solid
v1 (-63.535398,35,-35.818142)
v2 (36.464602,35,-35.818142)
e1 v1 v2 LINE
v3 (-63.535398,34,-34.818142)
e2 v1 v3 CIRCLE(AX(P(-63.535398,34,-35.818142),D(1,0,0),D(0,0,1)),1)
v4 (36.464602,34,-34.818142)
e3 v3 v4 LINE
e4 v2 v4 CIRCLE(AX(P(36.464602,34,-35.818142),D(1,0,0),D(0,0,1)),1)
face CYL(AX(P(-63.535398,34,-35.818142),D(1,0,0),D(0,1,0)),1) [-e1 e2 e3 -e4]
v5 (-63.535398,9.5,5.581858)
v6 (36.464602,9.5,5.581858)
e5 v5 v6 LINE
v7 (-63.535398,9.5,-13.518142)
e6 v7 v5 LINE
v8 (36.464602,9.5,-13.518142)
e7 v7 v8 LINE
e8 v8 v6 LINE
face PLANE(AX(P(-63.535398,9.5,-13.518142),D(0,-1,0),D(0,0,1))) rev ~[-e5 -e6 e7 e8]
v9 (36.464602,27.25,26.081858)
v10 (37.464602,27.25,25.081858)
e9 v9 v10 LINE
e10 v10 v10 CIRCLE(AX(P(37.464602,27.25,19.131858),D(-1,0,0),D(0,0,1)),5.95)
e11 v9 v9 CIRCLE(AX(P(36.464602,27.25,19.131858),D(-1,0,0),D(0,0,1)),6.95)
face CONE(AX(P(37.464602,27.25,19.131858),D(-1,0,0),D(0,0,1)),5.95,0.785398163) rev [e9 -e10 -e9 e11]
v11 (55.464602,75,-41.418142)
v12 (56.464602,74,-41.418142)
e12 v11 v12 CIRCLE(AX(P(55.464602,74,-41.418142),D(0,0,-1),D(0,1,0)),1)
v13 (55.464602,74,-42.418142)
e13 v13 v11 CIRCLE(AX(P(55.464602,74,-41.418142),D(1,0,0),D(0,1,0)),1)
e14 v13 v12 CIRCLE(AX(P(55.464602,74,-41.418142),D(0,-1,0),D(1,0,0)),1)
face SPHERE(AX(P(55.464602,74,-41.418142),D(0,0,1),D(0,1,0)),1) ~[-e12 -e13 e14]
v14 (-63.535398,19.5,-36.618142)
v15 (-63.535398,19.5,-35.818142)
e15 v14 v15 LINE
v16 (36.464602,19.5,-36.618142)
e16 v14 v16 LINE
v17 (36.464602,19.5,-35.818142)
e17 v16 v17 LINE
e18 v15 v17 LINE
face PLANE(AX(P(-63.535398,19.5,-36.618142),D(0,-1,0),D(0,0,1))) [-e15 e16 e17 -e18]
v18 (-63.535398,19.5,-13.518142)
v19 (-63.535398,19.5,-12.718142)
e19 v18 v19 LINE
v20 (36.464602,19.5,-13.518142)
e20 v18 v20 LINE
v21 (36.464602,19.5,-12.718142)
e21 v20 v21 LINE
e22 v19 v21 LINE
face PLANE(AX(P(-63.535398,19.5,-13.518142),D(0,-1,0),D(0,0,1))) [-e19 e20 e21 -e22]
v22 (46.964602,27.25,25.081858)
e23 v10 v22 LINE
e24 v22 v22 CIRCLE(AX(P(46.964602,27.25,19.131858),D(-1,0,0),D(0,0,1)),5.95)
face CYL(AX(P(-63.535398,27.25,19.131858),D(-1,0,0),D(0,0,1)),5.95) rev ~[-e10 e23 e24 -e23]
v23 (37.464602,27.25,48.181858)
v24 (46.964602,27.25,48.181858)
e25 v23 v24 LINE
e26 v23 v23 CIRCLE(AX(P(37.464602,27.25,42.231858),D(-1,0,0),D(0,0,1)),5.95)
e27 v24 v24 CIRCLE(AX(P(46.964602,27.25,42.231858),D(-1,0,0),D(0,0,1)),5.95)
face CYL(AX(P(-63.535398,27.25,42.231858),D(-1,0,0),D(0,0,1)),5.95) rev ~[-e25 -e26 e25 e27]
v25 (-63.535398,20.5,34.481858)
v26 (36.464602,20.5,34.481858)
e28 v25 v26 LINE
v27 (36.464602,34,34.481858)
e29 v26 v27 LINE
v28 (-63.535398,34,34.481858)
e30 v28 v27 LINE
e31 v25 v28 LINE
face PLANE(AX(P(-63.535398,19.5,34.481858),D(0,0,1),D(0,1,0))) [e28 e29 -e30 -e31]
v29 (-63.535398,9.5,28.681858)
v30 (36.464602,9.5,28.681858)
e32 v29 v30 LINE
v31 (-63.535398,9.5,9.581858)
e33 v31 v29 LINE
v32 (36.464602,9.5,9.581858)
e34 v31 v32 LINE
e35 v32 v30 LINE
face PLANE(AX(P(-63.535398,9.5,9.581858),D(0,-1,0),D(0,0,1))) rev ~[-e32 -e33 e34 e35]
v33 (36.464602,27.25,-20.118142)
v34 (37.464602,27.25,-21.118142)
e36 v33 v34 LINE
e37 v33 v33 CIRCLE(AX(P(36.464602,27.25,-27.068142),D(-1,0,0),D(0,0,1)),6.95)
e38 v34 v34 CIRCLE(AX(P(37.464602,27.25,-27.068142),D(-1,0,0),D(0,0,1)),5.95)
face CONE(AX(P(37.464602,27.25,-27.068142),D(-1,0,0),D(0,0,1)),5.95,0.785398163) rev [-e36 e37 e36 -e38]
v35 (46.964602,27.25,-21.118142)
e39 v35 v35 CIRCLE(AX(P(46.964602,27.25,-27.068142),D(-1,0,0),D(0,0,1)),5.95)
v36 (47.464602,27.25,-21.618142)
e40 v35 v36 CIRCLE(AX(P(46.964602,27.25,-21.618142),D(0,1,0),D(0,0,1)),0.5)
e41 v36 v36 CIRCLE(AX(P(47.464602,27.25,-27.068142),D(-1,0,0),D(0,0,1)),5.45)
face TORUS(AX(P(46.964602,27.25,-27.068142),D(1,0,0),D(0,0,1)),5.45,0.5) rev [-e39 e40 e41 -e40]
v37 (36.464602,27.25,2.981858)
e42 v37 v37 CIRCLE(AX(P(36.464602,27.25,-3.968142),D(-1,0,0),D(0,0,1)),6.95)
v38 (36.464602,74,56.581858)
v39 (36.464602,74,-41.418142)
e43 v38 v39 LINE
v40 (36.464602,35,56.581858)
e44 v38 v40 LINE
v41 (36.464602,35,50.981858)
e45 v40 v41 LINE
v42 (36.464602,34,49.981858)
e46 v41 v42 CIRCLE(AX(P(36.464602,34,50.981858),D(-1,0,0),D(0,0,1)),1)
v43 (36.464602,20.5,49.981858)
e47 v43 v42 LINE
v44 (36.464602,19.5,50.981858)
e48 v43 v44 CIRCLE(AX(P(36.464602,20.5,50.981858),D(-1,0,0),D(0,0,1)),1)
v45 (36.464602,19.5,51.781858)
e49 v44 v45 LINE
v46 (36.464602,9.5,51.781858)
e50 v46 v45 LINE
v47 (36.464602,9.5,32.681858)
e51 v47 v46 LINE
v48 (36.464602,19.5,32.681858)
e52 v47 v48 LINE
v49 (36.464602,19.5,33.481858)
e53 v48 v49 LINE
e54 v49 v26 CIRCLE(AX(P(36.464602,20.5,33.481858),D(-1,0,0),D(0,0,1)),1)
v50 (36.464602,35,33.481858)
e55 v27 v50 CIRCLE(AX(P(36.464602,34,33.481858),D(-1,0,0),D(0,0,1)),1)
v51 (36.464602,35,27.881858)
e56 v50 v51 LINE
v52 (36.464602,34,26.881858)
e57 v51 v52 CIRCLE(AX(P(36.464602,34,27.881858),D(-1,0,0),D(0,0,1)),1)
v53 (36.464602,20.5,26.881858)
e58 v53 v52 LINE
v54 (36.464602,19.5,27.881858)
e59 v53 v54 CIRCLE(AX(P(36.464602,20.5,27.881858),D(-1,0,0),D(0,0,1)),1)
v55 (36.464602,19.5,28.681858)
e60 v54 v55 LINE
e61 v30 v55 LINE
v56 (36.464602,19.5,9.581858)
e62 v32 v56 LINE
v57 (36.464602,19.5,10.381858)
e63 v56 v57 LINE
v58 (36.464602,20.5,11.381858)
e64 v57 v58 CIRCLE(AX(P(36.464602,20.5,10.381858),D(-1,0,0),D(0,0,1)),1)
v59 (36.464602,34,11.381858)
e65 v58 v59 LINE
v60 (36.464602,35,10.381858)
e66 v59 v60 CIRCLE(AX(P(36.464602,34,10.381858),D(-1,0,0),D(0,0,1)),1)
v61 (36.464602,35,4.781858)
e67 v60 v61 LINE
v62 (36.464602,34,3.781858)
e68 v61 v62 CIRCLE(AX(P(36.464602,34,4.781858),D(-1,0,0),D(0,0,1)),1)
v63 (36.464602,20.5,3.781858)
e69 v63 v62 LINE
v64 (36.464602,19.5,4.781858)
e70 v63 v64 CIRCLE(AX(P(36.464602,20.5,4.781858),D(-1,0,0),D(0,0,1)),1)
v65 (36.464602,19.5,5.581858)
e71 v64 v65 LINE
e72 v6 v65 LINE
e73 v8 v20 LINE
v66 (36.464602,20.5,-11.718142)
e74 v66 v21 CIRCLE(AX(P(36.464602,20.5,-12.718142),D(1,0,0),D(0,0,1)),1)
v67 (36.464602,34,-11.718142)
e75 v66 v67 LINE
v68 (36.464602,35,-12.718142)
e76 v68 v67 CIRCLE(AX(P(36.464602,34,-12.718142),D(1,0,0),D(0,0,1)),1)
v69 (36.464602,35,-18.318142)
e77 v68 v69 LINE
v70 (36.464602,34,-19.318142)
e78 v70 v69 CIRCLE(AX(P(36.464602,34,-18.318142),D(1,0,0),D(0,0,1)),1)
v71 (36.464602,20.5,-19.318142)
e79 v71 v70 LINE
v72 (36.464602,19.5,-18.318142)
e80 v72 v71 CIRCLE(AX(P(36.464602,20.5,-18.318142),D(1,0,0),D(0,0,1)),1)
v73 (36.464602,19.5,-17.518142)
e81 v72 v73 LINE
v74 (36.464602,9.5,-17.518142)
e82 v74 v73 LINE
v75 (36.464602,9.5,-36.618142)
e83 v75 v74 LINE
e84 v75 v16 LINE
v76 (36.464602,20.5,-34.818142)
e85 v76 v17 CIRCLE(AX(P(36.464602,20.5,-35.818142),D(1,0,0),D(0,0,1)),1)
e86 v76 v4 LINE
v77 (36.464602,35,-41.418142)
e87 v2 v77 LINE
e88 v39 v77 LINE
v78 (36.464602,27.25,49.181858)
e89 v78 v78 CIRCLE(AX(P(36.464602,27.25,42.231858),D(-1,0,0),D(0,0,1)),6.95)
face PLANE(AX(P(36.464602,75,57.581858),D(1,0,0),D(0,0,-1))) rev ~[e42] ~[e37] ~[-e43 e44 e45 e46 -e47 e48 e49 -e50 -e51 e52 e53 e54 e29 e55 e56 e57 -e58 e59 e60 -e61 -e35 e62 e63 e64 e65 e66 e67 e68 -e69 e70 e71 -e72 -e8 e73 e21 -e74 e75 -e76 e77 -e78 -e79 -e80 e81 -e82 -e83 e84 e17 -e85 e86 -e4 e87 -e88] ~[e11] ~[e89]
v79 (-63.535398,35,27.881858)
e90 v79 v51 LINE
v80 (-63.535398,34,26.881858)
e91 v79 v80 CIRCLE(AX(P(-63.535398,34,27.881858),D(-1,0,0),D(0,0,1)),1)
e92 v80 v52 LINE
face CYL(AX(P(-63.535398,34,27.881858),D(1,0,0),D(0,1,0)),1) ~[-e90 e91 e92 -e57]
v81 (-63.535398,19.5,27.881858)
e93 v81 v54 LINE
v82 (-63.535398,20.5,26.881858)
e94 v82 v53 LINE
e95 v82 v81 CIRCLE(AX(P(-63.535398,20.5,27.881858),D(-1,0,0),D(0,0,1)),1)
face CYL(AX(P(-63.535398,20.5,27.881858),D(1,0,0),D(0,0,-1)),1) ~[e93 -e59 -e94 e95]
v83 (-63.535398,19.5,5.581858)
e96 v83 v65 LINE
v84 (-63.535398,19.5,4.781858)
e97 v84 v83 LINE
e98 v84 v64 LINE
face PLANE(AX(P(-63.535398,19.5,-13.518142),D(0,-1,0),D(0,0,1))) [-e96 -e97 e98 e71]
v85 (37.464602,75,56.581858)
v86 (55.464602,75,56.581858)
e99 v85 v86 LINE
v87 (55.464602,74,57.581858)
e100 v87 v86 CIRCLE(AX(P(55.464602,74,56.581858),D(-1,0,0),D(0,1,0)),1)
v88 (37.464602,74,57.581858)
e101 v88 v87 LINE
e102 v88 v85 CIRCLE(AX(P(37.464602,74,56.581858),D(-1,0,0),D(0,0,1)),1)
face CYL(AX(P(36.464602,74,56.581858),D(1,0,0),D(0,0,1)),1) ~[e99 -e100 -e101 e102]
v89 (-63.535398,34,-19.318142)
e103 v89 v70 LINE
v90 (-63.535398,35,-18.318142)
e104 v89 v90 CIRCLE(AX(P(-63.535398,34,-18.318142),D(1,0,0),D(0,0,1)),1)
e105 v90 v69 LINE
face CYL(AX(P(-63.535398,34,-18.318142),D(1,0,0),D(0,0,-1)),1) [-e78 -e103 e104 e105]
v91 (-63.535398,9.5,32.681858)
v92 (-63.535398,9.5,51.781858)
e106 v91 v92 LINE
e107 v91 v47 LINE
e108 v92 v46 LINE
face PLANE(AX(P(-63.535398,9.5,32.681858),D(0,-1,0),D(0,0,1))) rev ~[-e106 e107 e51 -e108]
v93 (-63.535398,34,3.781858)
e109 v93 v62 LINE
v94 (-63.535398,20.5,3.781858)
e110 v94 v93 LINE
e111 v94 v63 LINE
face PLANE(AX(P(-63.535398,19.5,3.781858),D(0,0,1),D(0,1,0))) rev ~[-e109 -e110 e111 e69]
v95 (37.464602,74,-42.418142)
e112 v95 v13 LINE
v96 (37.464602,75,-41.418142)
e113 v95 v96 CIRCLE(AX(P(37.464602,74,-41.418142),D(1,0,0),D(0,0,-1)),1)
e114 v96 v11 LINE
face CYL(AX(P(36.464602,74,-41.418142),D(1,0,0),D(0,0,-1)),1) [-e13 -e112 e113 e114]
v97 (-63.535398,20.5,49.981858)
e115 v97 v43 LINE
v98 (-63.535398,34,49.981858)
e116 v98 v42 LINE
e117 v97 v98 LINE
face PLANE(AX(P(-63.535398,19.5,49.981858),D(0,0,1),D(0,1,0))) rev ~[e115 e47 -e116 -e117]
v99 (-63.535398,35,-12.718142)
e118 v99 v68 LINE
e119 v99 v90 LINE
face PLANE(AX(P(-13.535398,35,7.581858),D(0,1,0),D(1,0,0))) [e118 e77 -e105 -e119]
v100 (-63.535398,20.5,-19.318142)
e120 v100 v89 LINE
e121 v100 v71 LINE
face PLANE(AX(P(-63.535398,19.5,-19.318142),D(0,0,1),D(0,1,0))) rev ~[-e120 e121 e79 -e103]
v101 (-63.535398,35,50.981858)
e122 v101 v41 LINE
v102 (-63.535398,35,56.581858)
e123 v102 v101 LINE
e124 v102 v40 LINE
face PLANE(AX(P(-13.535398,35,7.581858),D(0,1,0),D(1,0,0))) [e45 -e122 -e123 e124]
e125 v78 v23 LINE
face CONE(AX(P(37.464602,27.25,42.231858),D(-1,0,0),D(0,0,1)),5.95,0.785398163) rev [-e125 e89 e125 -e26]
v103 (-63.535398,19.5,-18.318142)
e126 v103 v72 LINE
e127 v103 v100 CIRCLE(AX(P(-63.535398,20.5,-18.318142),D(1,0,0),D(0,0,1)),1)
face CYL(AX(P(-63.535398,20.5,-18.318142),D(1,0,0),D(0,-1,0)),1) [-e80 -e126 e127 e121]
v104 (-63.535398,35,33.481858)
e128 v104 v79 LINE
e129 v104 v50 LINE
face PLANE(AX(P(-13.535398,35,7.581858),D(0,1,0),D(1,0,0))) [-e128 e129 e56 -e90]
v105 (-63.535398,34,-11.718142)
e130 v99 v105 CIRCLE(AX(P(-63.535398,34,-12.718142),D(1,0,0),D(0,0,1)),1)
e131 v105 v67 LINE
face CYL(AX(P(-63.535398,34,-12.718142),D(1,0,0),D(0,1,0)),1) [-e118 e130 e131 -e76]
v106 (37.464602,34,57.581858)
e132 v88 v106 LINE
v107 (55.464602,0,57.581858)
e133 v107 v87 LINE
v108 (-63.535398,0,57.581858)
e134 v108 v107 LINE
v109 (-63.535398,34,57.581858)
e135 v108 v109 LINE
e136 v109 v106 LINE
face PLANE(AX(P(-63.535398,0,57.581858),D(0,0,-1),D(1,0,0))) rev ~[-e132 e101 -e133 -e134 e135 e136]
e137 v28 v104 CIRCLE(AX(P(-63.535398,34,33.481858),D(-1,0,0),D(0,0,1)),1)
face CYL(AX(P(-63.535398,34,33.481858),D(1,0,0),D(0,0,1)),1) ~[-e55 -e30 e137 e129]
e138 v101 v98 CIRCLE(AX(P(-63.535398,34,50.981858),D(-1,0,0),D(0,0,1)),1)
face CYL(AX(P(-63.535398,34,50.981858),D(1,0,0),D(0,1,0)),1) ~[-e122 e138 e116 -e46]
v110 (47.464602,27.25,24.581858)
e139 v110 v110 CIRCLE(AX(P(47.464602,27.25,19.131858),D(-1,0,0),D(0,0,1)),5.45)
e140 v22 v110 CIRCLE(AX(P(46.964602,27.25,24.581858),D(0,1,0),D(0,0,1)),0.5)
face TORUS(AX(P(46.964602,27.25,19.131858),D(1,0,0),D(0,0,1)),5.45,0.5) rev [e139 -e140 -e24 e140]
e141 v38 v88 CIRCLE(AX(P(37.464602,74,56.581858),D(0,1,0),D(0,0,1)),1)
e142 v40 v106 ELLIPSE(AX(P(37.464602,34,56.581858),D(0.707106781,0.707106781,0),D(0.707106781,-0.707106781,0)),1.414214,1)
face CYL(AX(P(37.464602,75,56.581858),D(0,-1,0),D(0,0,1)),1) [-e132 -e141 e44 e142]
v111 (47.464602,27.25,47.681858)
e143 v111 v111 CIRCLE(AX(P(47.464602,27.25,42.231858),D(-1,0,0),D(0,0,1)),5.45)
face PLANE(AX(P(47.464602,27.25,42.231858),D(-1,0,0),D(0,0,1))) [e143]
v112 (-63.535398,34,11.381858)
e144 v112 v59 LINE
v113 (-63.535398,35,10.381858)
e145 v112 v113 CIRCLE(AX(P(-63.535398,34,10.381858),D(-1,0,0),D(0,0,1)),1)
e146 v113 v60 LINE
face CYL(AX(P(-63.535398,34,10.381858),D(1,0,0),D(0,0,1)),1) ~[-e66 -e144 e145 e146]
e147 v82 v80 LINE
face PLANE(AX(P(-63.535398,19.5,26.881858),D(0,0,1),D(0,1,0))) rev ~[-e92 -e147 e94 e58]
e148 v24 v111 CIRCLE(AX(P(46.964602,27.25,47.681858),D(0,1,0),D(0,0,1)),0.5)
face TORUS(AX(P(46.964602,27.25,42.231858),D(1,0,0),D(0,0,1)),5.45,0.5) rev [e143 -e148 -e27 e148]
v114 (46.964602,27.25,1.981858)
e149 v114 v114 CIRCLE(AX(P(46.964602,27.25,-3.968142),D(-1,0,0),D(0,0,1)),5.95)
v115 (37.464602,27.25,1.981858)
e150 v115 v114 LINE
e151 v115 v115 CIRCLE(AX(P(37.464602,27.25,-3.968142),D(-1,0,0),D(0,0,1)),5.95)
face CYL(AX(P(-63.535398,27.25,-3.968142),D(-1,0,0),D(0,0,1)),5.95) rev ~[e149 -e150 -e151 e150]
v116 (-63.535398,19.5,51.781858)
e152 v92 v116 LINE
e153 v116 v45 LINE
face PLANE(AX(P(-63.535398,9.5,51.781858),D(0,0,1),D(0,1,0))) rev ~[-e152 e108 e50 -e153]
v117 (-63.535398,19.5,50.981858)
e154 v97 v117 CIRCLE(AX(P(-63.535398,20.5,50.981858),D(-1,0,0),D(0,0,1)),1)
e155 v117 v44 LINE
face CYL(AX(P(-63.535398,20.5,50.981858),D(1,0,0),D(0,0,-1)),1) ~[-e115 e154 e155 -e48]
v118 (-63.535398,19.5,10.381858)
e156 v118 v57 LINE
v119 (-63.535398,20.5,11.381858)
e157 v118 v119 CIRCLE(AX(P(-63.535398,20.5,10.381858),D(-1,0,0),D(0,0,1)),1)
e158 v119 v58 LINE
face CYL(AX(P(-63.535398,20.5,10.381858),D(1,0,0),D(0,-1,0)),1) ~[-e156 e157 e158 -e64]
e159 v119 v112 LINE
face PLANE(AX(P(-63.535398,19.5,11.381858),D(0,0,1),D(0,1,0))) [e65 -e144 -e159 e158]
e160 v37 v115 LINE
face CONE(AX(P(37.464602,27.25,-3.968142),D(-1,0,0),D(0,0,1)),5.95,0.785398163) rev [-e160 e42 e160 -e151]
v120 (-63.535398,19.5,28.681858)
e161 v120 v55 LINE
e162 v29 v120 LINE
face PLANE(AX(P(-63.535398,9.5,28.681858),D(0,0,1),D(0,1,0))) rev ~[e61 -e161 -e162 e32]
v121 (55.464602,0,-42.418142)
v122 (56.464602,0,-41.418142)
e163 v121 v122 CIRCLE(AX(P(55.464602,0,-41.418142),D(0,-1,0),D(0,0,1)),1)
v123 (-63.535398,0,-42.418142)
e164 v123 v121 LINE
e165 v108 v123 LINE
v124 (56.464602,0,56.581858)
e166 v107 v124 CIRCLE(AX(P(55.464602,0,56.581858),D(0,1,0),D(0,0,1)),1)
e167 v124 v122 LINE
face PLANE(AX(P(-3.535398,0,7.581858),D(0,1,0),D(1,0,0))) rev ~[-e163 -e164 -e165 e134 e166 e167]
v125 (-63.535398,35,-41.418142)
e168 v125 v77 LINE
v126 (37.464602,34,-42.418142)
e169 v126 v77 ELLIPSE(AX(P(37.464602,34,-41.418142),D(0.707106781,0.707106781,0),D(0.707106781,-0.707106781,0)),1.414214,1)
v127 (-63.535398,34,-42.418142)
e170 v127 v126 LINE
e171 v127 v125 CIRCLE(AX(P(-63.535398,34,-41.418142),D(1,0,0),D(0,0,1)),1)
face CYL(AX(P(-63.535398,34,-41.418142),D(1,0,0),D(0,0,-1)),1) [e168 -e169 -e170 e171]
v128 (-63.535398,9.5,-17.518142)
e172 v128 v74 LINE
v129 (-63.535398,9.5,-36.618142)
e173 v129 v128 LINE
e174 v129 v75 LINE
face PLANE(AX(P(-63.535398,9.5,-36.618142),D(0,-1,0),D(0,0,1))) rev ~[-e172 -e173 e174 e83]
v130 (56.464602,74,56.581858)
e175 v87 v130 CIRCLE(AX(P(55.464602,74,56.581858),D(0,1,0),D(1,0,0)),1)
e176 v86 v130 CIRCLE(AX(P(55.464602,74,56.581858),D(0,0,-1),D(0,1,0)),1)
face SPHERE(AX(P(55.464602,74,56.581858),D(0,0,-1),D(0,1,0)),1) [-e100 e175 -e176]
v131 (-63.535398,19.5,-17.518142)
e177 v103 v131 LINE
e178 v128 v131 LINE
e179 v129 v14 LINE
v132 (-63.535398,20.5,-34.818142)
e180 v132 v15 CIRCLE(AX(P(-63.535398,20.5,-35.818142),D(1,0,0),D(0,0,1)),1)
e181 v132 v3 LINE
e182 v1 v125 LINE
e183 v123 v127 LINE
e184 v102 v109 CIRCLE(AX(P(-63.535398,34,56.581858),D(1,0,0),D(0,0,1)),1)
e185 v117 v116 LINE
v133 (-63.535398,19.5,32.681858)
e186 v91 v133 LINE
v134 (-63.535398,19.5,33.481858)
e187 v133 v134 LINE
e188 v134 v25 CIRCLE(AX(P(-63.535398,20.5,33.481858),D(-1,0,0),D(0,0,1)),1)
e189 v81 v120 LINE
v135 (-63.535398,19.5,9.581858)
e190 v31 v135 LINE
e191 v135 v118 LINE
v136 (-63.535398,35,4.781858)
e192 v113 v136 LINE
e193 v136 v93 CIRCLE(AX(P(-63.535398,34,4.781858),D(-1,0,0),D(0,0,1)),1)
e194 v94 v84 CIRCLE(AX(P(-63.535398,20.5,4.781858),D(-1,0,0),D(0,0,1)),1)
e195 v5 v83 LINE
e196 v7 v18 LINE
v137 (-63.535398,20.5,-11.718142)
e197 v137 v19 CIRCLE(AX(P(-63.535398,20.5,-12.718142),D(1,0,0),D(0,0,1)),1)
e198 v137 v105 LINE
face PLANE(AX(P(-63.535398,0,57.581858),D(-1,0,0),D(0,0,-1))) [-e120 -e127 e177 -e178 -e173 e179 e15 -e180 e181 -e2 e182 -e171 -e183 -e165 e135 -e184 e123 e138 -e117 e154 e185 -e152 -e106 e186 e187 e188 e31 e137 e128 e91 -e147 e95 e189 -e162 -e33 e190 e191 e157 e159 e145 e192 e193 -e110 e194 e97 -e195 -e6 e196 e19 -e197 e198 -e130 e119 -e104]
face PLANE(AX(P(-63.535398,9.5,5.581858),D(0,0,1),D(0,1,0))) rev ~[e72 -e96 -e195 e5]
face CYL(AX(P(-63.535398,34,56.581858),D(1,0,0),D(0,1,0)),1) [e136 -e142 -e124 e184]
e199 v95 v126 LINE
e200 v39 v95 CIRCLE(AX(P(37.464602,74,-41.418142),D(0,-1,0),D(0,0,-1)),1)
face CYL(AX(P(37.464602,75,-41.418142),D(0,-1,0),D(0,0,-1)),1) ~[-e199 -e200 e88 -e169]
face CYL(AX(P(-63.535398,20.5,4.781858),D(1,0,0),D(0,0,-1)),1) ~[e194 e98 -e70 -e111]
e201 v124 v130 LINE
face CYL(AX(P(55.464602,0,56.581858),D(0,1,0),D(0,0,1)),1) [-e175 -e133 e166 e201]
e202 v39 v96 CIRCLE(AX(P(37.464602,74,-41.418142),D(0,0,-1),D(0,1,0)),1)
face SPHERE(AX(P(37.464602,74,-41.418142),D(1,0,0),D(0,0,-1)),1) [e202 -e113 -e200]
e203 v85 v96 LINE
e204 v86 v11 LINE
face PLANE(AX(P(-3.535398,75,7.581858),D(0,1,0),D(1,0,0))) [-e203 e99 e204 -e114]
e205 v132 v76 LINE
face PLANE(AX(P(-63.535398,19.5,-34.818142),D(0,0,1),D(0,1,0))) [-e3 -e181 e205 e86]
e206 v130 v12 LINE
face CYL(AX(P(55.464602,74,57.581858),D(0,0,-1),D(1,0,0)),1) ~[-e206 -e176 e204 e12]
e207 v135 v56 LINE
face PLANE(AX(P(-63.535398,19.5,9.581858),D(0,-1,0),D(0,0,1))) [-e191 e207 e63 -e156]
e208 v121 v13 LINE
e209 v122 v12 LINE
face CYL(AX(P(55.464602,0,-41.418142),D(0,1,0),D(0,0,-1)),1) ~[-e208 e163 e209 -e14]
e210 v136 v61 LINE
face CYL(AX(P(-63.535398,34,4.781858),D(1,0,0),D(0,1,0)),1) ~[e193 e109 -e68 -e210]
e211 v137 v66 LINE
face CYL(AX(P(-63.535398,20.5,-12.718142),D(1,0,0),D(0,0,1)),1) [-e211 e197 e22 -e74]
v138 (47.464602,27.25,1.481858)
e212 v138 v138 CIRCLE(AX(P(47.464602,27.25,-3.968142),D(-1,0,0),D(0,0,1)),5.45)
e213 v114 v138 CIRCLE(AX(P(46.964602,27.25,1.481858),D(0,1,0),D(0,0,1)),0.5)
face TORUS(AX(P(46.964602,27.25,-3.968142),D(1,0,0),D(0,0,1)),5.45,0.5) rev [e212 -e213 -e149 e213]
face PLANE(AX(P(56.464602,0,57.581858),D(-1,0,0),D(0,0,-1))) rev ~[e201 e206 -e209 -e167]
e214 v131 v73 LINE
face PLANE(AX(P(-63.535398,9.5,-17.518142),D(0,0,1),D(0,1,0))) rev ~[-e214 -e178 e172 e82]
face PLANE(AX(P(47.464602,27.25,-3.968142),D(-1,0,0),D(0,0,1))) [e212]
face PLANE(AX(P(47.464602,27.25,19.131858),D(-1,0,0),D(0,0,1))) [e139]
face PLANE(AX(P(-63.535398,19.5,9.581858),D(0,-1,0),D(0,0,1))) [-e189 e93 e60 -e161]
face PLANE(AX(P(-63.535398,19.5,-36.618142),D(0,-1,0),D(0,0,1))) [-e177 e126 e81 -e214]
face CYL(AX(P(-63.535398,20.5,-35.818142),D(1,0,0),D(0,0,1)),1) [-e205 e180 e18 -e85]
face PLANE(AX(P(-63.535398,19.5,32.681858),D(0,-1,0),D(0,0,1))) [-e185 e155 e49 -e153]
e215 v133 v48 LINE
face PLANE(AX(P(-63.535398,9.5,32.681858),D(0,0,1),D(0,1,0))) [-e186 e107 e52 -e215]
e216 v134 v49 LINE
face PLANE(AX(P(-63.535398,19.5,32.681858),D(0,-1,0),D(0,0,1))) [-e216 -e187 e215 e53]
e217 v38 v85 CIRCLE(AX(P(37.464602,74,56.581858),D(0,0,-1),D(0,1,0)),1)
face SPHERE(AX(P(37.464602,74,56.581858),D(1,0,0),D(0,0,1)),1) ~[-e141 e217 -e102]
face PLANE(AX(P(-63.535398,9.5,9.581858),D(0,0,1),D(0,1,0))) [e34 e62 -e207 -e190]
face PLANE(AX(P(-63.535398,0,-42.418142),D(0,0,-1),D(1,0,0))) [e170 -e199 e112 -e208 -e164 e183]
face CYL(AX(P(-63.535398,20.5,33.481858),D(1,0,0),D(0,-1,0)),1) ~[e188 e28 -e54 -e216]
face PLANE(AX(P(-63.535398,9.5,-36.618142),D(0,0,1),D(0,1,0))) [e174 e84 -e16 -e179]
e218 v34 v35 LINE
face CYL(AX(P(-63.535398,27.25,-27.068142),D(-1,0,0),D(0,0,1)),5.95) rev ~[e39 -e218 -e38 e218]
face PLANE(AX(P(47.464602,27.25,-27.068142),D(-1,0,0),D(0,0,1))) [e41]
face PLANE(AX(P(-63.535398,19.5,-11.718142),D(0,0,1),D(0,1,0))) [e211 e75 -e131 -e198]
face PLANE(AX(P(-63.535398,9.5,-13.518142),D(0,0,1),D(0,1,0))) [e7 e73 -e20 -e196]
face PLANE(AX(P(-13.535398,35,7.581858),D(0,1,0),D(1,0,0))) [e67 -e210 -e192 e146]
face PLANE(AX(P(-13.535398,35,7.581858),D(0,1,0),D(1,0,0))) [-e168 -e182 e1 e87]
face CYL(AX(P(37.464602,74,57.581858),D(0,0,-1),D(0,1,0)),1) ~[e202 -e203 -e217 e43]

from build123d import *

# Parameters (mm, degrees)
SKETCH1_W           = 120
SKETCH1_H           = 100
BOSS_EXTRUDE1_DEPTH = 75
SKETCH2_W           = 100
SKETCH2_H           = 100
CUT_EXTRUDE1_DEPTH  = 40
SKETCH6_W           = 15.5
SKETCH6_H           = 15.5
CUT_EXTRUDE4_DEPTH  = 100
SKETCH8_W           = 19.1
SKETCH8_H           = 10
CUT_EXTRUDE5_DEPTH  = 100
SKETCH6_3_R         = 5.95
CUT_EXTRUDE6_DEPTH  = 111
FILLET1_R           = 1
CHAMFER1_SIZE       = 1
FILLET2_R           = 0.5
FILLET3_R           = 1


with BuildPart() as part:
    # Sketch1 → Boss-Extrude1 (new body)
    with BuildSketch(Plane(origin=(0, 0, 0), x_dir=(1, 0, 0), z_dir=(0, 1, 0))):
        with Locations((-3.53539823, -7.581858407)):
            Rectangle(SKETCH1_W, SKETCH1_H)
    extrude(amount=BOSS_EXTRUDE1_DEPTH)

    # Sketch2 → Cut-Extrude1 (cut)
    with BuildSketch(Plane(origin=(0, 75, 0), x_dir=(1, 0, 0), z_dir=(0, 1, 0))):
        with Locations((-13.53539823, -7.581858407)):
            Rectangle(SKETCH2_W, SKETCH2_H)
    extrude(amount=-CUT_EXTRUDE1_DEPTH, mode=Mode.SUBTRACT)

    # Sketch6 → Cut-Extrude4 (cut)
    with BuildSketch(Plane.ZY.offset(63.53539823)):
        with Locations((-27.068141593, 27.25)):
            Rectangle(SKETCH6_W, SKETCH6_H)
        with Locations((-3.968141593, 27.25)):
            Rectangle(SKETCH6_W, SKETCH6_H)
        with Locations((19.131858407, 27.25)):
            Rectangle(SKETCH6_W, SKETCH6_H)
        with Locations((42.231858407, 27.25)):
            Rectangle(SKETCH6_W, SKETCH6_H)
    extrude(amount=-CUT_EXTRUDE4_DEPTH, mode=Mode.SUBTRACT)

    # Sketch8 → Cut-Extrude5 (cut)
    with BuildSketch(Plane.ZY.offset(63.53539823)):
        with Locations((-27.068141593, 14.5)):
            Rectangle(SKETCH8_W, SKETCH8_H)
        with Locations((-3.968141593, 14.5)):
            Rectangle(SKETCH8_W, SKETCH8_H)
        with Locations((42.231858407, 14.5)):
            Rectangle(SKETCH8_W, SKETCH8_H)
        with Locations((19.131858407, 14.5)):
            Rectangle(SKETCH8_W, SKETCH8_H)
    extrude(amount=-CUT_EXTRUDE5_DEPTH, mode=Mode.SUBTRACT)

    # Sketch6<3> → Cut-Extrude6 (cut)
    with BuildSketch(Plane.ZY.offset(63.53539823)):
        with Locations((-27.068141593, 27.25)):
            Circle(SKETCH6_3_R)
        with Locations((-3.968141593, 27.25)):
            Circle(SKETCH6_3_R)
        with Locations((42.231858407, 27.25)):
            Circle(SKETCH6_3_R)
        with Locations((19.131858407, 27.25)):
            Circle(SKETCH6_3_R)
    extrude(amount=-CUT_EXTRUDE6_DEPTH, mode=Mode.SUBTRACT)

    # Fillet1
    fillet1_edges = [part.edges().sort_by_distance(p)[0] for p in [
        (56.46460177, 75, 7.581858407),
        (46.46460177, 75, 57.581858407),
        (46.46460177, 75, -42.418141593),
        (-13.53539823, 35, -42.418141593),
        (36.46460177, 55, -42.418141593),
        (-13.53539823, 35, 57.581858407),
        (36.46460177, 55, 57.581858407),
        (36.46460177, 75, 7.581858407),
        (56.46460177, 37.5, -42.418141593),
        (56.46460177, 37.5, 57.581858407),
    ]]
    fillet(fillet1_edges, radius=FILLET1_R)

    # Chamfer1
    chamfer1_edges = [part.edges().sort_by_distance(p)[0] for p in [
        (36.46460177, 27.25, -33.018141593),
        (36.46460177, 27.25, -9.918141593),
        (36.46460177, 27.25, 13.181858407),
        (36.46460177, 27.25, 36.281858407),
    ]]
    chamfer(chamfer1_edges, length=CHAMFER1_SIZE)

    # Fillet2
    fillet2_edges = [part.edges().sort_by_distance(p)[0] for p in [
        (47.46460177, 27.25, -33.018141593),
        (47.46460177, 27.25, -9.918141593),
        (47.46460177, 27.25, 13.181858407),
        (47.46460177, 27.25, 36.281858407),
    ]]
    fillet(fillet2_edges, radius=FILLET2_R)

    # Fillet3
    fillet3_edges = [part.edges().sort_by_distance(p)[0] for p in [
        (-13.53539823, 19.5, -19.318141593),
        (-13.53539823, 19.5, -34.818141593),
        (-13.53539823, 35, -34.818141593),
        (-13.53539823, 35, -19.318141593),
        (-13.53539823, 19.5, 3.781858407),
        (-13.53539823, 19.5, -11.718141593),
        (-13.53539823, 35, -11.718141593),
        (-13.53539823, 35, 3.781858407),
        (-13.53539823, 19.5, 49.981858407),
        (-13.53539823, 19.5, 34.481858407),
        (-13.53539823, 35, 34.481858407),
        (-13.53539823, 35, 49.981858407),
        (-13.53539823, 19.5, 26.881858407),
        (-13.53539823, 19.5, 11.381858407),
        (-13.53539823, 35, 11.381858407),
        (-13.53539823, 35, 26.881858407),
    ]]
    fillet(fillet3_edges, radius=FILLET3_R)


solid = part.part
